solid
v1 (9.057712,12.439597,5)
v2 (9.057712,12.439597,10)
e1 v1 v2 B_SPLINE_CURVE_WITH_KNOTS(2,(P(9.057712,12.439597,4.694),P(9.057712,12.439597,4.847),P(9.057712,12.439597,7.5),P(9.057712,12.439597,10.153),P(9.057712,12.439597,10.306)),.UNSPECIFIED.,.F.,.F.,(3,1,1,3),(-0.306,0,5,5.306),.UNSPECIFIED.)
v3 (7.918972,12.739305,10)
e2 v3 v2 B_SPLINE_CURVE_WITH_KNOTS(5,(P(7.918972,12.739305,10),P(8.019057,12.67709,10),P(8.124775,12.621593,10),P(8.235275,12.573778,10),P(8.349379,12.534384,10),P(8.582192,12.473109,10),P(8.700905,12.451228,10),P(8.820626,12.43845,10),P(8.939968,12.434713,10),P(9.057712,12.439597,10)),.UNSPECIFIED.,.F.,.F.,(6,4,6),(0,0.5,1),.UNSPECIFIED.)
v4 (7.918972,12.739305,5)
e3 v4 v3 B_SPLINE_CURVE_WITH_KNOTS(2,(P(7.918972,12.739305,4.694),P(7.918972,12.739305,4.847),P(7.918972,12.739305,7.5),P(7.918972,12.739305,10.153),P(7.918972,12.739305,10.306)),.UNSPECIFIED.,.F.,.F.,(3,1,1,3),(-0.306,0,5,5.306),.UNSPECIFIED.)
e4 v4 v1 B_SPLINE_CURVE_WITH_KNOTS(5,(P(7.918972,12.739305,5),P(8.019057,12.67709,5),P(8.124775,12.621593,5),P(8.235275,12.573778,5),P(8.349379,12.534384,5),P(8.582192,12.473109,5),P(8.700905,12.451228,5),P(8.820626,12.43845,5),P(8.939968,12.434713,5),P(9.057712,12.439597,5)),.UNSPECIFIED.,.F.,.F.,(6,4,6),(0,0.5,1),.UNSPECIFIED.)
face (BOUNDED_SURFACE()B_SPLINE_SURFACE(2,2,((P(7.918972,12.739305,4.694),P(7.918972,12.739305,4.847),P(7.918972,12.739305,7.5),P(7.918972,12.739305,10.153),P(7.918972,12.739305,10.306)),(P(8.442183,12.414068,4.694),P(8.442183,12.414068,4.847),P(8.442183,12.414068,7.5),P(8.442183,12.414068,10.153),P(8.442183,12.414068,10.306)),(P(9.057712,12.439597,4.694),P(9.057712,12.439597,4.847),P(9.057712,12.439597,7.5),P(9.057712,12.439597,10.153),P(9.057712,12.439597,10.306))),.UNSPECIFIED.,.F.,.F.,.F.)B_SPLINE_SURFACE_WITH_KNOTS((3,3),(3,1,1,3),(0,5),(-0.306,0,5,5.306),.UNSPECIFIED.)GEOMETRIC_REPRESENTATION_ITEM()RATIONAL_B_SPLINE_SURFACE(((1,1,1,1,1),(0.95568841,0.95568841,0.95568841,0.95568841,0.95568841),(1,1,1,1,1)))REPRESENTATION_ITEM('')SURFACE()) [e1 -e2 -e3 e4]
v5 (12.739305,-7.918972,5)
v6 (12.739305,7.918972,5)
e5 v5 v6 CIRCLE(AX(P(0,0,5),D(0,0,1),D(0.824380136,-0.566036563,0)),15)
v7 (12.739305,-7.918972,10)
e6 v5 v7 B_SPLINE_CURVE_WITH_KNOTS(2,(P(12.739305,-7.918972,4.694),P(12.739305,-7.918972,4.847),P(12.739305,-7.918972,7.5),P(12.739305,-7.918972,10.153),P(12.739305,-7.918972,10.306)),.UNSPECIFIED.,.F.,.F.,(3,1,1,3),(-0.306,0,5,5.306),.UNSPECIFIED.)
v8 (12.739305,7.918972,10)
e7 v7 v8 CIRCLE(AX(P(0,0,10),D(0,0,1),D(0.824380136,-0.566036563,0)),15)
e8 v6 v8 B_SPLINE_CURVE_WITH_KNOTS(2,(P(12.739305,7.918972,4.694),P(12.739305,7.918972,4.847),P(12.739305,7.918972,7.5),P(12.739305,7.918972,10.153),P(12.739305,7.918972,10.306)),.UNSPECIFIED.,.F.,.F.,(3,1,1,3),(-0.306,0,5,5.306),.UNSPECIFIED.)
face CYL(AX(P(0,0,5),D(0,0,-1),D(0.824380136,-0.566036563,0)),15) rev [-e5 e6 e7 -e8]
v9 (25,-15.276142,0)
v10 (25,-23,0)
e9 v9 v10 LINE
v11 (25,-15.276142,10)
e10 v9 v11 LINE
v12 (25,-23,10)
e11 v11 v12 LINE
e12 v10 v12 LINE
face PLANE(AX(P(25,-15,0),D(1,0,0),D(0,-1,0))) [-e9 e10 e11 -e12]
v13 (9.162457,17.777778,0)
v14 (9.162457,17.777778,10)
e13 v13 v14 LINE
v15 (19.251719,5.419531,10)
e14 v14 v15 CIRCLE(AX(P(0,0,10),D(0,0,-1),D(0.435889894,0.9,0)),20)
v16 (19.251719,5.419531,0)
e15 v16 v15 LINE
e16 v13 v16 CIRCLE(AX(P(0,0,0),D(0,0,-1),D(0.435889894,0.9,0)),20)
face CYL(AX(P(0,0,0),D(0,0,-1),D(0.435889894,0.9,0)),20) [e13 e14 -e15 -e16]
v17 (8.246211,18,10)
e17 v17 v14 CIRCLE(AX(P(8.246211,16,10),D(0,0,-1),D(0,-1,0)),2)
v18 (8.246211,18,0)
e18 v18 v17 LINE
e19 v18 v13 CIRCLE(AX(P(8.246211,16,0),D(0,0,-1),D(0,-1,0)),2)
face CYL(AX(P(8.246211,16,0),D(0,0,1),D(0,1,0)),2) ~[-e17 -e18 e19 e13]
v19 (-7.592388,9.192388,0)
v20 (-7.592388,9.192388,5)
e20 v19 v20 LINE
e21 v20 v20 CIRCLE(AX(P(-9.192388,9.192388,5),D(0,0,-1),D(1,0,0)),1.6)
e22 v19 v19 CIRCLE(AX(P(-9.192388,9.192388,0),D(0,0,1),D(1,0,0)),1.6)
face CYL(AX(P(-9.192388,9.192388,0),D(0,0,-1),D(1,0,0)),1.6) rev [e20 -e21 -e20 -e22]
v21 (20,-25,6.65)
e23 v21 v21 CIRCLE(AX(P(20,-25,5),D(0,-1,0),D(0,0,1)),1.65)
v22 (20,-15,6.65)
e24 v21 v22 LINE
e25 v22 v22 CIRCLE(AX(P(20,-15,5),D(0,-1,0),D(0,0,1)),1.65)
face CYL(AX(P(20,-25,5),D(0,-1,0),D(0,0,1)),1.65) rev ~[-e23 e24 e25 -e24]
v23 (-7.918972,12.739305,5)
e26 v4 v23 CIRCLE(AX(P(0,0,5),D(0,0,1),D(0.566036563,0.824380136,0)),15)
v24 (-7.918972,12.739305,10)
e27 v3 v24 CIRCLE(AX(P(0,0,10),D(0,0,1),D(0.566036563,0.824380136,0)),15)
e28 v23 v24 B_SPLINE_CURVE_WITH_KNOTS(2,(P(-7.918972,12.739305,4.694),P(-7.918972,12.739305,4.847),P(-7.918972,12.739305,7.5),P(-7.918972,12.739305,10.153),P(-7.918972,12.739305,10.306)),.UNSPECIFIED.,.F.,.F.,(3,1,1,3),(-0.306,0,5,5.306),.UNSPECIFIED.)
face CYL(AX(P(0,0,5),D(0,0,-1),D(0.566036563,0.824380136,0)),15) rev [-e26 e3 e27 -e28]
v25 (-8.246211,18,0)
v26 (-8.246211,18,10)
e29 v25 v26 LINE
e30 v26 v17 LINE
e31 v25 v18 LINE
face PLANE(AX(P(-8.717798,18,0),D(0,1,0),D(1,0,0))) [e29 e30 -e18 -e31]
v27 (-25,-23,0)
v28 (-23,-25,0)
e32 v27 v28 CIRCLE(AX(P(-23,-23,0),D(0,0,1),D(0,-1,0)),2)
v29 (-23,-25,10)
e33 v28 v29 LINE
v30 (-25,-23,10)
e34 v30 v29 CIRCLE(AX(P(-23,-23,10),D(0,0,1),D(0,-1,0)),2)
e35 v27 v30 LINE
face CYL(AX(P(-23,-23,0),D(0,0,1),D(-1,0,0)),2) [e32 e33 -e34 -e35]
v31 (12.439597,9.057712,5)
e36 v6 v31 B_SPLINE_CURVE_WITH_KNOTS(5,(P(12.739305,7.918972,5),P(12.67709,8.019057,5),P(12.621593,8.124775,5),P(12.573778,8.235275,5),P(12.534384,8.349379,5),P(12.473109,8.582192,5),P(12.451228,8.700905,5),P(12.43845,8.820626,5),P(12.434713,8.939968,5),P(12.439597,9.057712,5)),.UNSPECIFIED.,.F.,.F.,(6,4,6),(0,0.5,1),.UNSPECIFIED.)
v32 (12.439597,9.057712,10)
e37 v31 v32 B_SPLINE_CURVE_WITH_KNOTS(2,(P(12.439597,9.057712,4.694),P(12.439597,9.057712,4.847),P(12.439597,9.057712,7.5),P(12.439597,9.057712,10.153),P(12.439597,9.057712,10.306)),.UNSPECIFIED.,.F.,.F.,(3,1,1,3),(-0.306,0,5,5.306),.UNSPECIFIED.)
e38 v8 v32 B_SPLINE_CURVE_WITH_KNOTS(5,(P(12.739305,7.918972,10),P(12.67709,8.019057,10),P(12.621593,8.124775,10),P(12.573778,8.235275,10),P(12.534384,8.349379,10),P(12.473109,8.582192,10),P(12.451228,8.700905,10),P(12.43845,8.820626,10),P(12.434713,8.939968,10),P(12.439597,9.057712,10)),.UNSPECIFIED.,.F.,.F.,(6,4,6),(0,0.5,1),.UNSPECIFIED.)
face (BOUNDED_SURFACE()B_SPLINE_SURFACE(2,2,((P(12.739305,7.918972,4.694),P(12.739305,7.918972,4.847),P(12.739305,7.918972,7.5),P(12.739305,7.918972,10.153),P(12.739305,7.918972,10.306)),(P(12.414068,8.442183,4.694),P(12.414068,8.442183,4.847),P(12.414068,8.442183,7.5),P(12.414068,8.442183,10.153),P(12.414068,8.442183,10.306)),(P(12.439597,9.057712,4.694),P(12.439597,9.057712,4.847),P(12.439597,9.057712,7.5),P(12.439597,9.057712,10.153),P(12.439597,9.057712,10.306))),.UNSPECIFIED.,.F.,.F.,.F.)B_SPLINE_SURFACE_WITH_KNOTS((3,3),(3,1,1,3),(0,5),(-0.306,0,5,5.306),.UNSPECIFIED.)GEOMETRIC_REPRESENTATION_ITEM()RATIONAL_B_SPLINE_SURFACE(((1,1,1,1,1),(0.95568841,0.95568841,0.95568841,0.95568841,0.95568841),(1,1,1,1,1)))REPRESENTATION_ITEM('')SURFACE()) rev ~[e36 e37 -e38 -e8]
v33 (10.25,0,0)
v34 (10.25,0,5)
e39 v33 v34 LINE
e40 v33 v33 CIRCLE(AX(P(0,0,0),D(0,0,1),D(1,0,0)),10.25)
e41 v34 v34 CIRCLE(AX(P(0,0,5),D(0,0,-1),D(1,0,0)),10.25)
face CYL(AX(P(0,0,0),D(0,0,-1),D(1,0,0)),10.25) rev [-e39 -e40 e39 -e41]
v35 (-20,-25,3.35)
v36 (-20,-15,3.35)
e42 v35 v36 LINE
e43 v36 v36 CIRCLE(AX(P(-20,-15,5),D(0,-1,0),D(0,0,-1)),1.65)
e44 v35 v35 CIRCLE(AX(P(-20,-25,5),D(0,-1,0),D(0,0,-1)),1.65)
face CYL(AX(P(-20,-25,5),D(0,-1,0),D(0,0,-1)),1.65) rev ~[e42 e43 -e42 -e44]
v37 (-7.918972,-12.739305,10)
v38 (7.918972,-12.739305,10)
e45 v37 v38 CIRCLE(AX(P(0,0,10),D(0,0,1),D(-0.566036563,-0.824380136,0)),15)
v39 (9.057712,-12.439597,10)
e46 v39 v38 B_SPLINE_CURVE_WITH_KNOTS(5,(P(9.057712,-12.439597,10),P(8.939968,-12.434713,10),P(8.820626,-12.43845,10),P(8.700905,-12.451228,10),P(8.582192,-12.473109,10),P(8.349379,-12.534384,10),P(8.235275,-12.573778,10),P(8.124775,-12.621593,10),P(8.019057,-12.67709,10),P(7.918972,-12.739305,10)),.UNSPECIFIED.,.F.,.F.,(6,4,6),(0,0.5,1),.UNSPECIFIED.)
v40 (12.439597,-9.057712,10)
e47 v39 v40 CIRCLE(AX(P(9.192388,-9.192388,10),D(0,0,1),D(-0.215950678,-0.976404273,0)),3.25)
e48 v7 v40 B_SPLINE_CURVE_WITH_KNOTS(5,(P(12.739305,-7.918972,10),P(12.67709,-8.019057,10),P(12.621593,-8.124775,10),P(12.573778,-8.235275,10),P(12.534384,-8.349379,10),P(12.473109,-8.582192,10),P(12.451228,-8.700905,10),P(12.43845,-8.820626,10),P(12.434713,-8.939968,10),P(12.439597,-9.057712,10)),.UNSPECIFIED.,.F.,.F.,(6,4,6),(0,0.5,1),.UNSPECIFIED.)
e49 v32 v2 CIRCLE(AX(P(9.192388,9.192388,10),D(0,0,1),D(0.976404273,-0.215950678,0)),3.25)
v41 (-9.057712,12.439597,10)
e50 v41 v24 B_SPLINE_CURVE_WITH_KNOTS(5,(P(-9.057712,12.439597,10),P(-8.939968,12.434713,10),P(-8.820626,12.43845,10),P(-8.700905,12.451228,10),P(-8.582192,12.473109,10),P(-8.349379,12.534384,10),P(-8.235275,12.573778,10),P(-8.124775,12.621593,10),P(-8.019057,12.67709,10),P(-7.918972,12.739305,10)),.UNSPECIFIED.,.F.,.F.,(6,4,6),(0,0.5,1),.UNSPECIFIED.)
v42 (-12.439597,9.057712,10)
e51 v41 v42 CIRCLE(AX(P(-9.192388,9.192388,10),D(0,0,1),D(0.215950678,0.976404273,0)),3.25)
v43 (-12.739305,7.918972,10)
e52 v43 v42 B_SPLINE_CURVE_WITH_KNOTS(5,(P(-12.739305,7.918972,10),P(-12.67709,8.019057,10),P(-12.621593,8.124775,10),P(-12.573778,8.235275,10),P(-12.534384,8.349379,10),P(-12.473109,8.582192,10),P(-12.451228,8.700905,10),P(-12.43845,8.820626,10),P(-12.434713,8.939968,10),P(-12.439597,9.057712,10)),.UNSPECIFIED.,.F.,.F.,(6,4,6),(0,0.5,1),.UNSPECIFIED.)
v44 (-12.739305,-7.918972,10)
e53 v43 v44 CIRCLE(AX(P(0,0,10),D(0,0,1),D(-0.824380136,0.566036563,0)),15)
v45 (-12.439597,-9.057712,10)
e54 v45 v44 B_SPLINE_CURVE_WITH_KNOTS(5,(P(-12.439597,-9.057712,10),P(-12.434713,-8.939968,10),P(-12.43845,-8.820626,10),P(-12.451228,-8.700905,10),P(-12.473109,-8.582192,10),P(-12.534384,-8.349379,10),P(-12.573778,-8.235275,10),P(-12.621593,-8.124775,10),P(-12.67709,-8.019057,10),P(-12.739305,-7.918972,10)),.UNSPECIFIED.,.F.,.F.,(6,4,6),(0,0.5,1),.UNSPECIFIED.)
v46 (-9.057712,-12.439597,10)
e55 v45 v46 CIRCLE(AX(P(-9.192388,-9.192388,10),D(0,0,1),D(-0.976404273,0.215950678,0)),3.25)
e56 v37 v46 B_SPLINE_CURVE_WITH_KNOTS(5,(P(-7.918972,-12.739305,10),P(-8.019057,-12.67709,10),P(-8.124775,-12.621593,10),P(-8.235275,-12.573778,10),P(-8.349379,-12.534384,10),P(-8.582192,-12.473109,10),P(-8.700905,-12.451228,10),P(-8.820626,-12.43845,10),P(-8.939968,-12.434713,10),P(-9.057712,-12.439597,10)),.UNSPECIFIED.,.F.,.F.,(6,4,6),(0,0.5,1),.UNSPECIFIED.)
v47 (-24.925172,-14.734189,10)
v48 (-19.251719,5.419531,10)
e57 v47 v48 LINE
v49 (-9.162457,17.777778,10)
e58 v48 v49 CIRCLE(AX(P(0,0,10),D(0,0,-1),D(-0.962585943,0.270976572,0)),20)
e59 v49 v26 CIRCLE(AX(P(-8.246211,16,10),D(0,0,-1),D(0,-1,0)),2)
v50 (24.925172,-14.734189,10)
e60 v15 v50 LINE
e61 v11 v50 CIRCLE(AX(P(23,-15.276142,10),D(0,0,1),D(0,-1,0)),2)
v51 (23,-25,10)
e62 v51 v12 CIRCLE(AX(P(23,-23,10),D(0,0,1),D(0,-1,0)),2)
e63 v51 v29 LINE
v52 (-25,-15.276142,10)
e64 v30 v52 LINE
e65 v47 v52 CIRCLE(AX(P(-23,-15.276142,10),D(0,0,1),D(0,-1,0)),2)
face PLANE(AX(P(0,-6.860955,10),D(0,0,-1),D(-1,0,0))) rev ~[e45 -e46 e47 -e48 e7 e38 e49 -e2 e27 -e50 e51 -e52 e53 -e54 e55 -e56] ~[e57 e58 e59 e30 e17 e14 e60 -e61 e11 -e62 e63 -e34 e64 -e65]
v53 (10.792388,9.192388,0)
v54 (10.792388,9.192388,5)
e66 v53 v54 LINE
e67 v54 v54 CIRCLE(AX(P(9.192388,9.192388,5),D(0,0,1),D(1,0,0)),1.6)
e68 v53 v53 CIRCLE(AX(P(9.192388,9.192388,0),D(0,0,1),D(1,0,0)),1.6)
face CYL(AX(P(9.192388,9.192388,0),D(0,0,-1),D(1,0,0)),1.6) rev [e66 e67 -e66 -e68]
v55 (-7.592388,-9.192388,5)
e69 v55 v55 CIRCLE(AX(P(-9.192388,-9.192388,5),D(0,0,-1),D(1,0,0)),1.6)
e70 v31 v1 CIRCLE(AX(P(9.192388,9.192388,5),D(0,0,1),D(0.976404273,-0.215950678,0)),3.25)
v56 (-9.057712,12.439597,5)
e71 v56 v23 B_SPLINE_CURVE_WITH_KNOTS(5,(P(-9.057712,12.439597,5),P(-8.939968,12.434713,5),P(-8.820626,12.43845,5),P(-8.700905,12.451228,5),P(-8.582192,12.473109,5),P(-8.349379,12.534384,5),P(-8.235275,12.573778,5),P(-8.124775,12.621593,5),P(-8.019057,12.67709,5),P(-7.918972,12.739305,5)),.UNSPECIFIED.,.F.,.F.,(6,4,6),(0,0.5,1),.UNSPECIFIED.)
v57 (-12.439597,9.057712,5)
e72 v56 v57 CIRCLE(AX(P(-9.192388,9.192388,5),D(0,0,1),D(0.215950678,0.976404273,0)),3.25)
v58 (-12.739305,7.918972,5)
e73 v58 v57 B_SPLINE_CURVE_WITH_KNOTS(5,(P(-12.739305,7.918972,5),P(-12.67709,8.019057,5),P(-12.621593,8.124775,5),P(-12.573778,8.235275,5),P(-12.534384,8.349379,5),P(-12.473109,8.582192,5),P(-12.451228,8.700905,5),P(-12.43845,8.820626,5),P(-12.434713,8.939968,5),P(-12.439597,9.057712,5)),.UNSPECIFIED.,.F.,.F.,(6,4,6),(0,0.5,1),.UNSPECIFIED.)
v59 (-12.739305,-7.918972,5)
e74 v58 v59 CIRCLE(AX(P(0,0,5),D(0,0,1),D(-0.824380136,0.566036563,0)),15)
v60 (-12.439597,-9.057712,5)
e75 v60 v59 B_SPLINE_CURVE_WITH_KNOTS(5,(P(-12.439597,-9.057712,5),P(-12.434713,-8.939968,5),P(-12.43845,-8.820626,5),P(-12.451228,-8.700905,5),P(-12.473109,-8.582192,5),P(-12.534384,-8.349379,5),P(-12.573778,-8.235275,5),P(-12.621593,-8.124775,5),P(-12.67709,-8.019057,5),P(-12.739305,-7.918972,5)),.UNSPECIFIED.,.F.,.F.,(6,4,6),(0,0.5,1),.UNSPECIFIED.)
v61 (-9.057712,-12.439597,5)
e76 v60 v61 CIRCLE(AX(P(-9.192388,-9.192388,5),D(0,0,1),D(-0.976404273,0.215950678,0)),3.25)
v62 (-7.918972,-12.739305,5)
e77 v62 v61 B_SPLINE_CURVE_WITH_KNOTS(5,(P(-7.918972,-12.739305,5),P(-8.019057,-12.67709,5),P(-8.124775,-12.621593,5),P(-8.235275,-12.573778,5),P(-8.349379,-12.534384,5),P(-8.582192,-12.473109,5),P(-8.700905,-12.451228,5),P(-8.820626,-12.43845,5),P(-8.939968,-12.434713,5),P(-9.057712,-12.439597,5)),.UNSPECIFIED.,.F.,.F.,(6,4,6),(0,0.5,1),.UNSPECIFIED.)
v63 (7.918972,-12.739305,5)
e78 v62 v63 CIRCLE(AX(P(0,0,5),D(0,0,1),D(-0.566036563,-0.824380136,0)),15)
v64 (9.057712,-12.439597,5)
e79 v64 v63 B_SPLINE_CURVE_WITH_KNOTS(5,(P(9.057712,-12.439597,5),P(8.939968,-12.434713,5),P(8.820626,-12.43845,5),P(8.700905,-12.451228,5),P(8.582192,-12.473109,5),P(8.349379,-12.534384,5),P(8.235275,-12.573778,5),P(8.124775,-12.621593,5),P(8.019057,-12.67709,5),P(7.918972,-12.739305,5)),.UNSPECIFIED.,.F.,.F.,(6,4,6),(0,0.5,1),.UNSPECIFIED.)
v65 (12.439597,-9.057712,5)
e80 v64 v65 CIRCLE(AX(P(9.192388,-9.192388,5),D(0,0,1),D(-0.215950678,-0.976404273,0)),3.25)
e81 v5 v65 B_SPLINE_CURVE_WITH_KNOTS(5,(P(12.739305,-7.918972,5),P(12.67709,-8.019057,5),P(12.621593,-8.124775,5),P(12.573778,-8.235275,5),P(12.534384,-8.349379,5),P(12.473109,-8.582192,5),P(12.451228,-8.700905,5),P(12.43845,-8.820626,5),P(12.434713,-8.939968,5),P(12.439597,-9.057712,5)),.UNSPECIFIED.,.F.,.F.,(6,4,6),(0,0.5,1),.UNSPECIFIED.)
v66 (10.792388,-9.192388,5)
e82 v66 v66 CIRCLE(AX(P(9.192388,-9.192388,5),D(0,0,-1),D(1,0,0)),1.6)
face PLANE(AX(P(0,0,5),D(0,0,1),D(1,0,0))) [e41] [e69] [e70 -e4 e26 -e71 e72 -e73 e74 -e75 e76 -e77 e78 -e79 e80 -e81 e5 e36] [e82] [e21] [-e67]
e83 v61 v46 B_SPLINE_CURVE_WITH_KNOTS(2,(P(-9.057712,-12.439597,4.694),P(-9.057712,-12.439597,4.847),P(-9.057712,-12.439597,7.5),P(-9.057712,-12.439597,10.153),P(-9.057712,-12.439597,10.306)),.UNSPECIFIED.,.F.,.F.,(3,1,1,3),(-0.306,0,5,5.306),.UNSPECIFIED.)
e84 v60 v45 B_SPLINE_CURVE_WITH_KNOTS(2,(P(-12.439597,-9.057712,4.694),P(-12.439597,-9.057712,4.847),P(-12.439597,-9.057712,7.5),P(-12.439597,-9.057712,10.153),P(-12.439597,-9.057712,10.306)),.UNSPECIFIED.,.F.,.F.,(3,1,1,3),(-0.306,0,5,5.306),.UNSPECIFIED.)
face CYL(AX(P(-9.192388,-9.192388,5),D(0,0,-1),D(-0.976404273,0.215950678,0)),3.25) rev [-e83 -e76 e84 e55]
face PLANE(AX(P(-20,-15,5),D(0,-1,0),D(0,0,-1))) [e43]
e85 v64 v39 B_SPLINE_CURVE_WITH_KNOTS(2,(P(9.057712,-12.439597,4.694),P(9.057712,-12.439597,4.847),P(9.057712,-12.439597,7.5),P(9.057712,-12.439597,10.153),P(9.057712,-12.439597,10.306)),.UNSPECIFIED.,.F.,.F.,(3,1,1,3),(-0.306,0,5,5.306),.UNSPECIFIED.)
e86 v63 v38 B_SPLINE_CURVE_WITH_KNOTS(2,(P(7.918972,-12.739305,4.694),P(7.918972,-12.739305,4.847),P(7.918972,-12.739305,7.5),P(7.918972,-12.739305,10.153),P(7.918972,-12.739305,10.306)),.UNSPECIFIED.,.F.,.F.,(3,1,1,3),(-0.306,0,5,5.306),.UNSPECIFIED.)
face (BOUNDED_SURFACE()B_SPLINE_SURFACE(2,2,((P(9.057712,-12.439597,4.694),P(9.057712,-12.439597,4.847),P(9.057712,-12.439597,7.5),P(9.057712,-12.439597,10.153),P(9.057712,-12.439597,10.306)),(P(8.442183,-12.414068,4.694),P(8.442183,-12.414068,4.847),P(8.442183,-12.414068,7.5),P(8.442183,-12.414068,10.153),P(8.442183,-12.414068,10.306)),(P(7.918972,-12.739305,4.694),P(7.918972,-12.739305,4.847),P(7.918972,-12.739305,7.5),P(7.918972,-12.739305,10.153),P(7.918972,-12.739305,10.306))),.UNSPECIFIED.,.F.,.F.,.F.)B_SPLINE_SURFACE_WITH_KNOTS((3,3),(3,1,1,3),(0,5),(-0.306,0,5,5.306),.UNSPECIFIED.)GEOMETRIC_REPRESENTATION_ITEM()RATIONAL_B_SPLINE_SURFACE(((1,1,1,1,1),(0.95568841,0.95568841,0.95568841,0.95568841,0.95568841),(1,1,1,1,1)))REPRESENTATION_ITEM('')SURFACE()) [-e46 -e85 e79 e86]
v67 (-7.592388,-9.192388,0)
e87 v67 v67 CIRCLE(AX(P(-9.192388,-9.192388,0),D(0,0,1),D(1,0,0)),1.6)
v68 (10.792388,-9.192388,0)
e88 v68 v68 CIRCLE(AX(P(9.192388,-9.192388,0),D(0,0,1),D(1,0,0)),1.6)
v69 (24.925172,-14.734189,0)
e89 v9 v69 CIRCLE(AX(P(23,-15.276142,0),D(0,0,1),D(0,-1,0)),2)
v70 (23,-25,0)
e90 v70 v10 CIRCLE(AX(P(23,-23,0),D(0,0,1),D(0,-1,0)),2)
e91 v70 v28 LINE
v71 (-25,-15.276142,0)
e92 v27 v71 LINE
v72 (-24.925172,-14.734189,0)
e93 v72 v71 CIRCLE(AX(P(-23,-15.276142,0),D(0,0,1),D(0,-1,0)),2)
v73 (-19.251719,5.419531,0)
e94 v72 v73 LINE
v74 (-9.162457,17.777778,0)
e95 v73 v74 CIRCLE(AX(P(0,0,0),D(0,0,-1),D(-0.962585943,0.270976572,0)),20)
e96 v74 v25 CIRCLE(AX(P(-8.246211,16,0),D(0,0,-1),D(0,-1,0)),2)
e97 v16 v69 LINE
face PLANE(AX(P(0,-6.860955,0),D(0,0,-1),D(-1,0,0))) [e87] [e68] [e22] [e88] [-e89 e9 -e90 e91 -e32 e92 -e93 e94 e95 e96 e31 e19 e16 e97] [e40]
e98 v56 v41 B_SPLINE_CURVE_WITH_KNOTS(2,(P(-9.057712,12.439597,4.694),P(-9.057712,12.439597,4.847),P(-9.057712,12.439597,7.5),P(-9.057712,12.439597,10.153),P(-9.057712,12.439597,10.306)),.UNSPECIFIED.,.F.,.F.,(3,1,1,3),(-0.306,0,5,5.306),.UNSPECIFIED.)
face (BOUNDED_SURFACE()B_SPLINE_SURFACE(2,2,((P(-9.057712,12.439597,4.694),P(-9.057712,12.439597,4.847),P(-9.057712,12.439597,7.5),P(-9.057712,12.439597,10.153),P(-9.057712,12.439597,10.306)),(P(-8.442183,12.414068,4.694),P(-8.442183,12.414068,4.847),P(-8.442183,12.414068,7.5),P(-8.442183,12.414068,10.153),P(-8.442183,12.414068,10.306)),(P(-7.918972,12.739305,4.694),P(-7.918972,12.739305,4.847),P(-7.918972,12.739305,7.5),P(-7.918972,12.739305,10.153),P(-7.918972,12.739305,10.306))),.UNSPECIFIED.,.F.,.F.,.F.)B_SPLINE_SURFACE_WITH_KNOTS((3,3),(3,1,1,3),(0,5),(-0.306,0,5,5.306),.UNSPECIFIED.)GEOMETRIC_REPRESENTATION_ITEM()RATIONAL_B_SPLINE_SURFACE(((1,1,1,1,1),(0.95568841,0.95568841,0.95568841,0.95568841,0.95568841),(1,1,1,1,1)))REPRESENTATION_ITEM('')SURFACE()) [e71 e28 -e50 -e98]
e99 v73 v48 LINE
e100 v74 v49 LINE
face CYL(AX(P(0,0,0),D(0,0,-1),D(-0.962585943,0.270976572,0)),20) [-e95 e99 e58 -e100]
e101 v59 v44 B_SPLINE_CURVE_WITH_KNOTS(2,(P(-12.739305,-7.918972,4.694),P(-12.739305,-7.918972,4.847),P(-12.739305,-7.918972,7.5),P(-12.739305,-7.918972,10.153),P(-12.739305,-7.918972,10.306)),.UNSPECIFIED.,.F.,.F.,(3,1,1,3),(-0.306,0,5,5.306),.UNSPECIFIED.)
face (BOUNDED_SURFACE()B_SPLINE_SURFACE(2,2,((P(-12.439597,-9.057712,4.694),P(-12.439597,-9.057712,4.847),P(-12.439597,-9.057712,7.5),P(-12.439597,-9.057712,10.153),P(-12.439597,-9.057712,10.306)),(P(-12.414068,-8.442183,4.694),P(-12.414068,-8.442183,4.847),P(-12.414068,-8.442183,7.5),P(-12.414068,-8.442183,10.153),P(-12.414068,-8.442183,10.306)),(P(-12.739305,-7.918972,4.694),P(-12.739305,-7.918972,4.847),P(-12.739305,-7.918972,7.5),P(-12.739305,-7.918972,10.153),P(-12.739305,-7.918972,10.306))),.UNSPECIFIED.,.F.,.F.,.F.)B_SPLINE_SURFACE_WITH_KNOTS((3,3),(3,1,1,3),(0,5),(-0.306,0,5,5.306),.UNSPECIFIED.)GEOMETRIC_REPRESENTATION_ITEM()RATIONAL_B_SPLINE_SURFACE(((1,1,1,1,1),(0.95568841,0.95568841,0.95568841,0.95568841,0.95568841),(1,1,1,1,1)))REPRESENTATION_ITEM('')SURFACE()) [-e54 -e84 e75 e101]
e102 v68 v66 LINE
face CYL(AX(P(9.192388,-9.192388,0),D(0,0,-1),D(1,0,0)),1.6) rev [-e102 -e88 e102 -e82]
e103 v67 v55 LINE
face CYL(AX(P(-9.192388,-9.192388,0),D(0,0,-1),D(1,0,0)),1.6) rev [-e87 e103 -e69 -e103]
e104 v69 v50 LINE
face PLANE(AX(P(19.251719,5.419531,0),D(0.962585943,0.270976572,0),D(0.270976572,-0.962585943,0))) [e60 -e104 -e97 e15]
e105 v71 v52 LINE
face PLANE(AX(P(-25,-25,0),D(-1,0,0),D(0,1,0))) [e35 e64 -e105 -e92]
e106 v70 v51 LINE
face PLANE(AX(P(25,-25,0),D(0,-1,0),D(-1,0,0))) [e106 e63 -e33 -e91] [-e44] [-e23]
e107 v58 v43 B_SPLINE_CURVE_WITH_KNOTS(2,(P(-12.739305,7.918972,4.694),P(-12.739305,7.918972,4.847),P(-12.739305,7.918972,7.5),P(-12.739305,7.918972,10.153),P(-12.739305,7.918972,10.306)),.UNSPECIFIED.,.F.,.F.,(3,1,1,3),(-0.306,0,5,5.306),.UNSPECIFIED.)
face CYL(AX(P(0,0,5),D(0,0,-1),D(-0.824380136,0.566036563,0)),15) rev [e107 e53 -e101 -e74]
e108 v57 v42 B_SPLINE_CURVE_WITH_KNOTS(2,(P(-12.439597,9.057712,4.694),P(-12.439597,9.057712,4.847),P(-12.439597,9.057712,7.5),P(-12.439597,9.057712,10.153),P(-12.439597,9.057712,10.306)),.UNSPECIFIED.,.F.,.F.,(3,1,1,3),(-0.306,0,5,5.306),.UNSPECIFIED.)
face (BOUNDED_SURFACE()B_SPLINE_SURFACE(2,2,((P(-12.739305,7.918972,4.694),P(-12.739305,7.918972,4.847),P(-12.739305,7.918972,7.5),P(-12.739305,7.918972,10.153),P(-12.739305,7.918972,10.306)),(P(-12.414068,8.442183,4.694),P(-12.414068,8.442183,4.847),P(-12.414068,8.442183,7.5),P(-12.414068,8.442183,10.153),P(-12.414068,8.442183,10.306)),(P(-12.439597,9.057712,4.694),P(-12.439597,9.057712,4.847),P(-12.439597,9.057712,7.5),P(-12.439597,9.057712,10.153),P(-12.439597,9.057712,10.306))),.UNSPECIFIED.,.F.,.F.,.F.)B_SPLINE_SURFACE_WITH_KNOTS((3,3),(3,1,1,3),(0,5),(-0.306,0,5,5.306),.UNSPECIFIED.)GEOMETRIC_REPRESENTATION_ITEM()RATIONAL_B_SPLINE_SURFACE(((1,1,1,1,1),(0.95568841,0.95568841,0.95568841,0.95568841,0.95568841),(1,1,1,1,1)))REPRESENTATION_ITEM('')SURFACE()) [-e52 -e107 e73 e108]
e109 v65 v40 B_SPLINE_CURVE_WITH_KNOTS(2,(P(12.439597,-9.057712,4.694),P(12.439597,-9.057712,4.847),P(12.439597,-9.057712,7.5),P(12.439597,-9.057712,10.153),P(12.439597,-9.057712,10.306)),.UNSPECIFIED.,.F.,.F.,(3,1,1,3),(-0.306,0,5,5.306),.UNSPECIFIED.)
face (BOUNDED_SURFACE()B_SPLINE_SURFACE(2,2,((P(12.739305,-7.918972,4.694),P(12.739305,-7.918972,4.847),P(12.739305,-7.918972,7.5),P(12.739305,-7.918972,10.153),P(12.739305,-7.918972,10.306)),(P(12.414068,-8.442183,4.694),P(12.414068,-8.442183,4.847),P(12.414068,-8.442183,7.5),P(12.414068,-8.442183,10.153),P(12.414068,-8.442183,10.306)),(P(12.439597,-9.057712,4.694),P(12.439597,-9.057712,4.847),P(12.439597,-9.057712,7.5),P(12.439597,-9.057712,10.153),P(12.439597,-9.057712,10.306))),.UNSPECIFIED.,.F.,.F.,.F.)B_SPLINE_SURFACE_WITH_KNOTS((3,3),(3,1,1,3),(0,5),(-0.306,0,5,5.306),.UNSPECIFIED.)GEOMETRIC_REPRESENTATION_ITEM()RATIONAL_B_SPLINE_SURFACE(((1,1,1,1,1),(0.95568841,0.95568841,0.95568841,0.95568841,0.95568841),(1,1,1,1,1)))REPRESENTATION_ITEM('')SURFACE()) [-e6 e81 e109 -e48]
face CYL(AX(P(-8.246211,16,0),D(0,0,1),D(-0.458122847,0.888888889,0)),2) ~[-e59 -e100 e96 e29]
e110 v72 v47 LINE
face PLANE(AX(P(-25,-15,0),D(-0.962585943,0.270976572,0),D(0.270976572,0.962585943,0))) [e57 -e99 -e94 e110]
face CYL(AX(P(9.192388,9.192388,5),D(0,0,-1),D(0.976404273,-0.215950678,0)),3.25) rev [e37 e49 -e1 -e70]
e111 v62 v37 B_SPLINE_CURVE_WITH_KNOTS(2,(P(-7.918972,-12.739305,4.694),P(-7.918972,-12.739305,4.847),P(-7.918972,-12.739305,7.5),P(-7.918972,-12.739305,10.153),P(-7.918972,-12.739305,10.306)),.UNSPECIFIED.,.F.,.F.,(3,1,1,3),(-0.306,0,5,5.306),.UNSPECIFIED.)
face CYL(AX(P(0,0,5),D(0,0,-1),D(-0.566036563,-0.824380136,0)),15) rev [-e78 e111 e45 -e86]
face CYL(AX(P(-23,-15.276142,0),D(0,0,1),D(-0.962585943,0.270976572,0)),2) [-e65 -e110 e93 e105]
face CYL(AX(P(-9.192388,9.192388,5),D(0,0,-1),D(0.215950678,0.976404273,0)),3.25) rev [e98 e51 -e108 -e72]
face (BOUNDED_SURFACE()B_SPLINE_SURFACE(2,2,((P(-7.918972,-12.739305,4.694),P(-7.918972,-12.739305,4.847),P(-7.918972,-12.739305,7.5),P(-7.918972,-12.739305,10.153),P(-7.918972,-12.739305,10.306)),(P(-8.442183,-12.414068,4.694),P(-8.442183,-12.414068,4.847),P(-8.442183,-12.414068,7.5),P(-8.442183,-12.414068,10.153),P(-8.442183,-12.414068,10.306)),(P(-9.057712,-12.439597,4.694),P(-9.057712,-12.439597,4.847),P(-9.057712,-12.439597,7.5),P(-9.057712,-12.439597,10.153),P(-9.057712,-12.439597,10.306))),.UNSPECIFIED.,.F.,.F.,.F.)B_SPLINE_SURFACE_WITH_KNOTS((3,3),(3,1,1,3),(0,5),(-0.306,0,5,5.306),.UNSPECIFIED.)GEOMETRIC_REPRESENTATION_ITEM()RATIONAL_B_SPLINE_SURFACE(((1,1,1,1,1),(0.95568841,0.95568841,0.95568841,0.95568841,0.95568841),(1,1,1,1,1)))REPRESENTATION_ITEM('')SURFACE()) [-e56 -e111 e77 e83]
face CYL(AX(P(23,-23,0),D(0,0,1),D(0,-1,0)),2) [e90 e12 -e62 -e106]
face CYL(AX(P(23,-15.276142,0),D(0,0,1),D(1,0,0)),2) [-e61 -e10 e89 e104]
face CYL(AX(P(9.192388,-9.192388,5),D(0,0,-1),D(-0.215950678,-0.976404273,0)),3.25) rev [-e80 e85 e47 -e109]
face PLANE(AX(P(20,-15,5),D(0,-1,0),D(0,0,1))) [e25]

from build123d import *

# Parameters (mm, degrees)
SKETCH_1_R          = 10.25
SKETCH_1_R_2        = 1.6
EXTRUDE_1_DEPTH     = 10
SKETCH_3_R          = 1.65
CUT_EXTRUDE_2_DEPTH = 10
FILLET_1_R          = 2
CUT_EXTRUDE_START   = -5
SKETCH_4_R          = 1.6
CUT_EXTRUDE_3_DEPTH = 5
FILLET_2_R          = 2


with BuildPart() as part:
    # ｽｹｯﾁ1 → ﾎﾞｽ - 押し出し1 (new body)
    with BuildSketch(Plane.XY):
        with BuildLine():
            Line((-25, -15), (-19.25171886, 5.419531433))
            ThreePointArc((-19.25171886, 5.419531433), (-15.334292097, 12.83976191), (-8.717797887, 18))
            Line((-8.717797887, 18), (8.717797887, 18))
            ThreePointArc((8.717797887, 18), (15.334292097, 12.83976191), (19.25171886, 5.419531433))
            Line((19.25171886, 5.419531433), (25, -15))
            Line((25, -15), (25, -25))
            Line((25, -25), (-25, -25))
            Line((-25, -25), (-25, -15))
        make_face()
        Circle(SKETCH_1_R, mode=Mode.SUBTRACT)
        with Locations((9.192388155, 9.192388155)):
            Circle(SKETCH_1_R_2, mode=Mode.SUBTRACT)
        with Locations((9.192388155, -9.192388155)):
            Circle(SKETCH_1_R_2, mode=Mode.SUBTRACT)
        with Locations((-9.192388155, -9.192388155)):
            Circle(SKETCH_1_R_2, mode=Mode.SUBTRACT)
        with Locations((-9.192388155, 9.192388155)):
            Circle(SKETCH_1_R_2, mode=Mode.SUBTRACT)
    extrude(amount=EXTRUDE_1_DEPTH)

    # ｽｹｯﾁ3 → ｶｯﾄ - 押し出し2 (cut)
    with BuildSketch(Plane.XZ.offset(25)):
        with Locations(Location((-20, 5, 0), (0, 0, 270))):
            Circle(SKETCH_3_R)
        with Locations(Location((20, 5, 0), (0, 0, 90))):
            Circle(SKETCH_3_R)
    extrude(amount=-CUT_EXTRUDE_2_DEPTH, mode=Mode.SUBTRACT)

    # ﾌｨﾚｯﾄ1
    fillet_1_edges = [part.edges().sort_by_distance(p)[0] for p in [
        (25, -25, 5),
        (-25, -25, 5),
        (-25, -15, 5),
        (-8.717797887, 18, 5),
        (8.717797887, 18, 5),
        (25, -15, 5),
    ]]
    fillet(fillet_1_edges, radius=FILLET_1_R)

    # ｽｹｯﾁ4 → ｶｯﾄ - 押し出し3 (cut)
    with BuildSketch(Plane.XY.offset(10).offset(CUT_EXTRUDE_START)):
        with BuildLine():
            ThreePointArc((12.365702043, 8.49054845), (11.490485194, 11.490485194), (8.49054845, 12.365702043))
            ThreePointArc((8.49054845, 12.365702043), (0, 15), (-8.49054845, 12.365702043))
            ThreePointArc((-8.49054845, 12.365702043), (-11.490485194, 11.490485194), (-12.365702043, 8.49054845))
            ThreePointArc((-12.365702043, 8.49054845), (-15, 0), (-12.365702043, -8.49054845))
            ThreePointArc((-12.365702043, -8.49054845), (-11.490485194, -11.490485194), (-8.49054845, -12.365702043))
            ThreePointArc((-8.49054845, -12.365702043), (0, -15), (8.49054845, -12.365702043))
            ThreePointArc((8.49054845, -12.365702043), (11.490485194, -11.490485194), (12.365702043, -8.49054845))
            ThreePointArc((12.365702043, -8.49054845), (15, 0), (12.365702043, 8.49054845))
        make_face()
        with Locations((9.192388155, 9.192388155)):
            Circle(SKETCH_4_R, mode=Mode.SUBTRACT)
    extrude(amount=CUT_EXTRUDE_3_DEPTH, mode=Mode.SUBTRACT)

    # ﾌｨﾚｯﾄ2
    fillet_2_edges = [part.edges().sort_by_distance(p)[0] for p in [
        (-8.49054845, 12.365702043, 7.5),
        (8.49054845, 12.365702043, 7.5),
        (12.365702043, 8.49054845, 7.5),
        (12.365702043, -8.49054845, 7.5),
        (8.49054845, -12.365702043, 7.5),
        (-8.49054845, -12.365702043, 7.5),
        (-12.365702043, -8.49054845, 7.5),
        (-12.365702043, 8.49054845, 7.5),
    ]]
    fillet(fillet_2_edges, radius=FILLET_2_R)


solid = part.part
